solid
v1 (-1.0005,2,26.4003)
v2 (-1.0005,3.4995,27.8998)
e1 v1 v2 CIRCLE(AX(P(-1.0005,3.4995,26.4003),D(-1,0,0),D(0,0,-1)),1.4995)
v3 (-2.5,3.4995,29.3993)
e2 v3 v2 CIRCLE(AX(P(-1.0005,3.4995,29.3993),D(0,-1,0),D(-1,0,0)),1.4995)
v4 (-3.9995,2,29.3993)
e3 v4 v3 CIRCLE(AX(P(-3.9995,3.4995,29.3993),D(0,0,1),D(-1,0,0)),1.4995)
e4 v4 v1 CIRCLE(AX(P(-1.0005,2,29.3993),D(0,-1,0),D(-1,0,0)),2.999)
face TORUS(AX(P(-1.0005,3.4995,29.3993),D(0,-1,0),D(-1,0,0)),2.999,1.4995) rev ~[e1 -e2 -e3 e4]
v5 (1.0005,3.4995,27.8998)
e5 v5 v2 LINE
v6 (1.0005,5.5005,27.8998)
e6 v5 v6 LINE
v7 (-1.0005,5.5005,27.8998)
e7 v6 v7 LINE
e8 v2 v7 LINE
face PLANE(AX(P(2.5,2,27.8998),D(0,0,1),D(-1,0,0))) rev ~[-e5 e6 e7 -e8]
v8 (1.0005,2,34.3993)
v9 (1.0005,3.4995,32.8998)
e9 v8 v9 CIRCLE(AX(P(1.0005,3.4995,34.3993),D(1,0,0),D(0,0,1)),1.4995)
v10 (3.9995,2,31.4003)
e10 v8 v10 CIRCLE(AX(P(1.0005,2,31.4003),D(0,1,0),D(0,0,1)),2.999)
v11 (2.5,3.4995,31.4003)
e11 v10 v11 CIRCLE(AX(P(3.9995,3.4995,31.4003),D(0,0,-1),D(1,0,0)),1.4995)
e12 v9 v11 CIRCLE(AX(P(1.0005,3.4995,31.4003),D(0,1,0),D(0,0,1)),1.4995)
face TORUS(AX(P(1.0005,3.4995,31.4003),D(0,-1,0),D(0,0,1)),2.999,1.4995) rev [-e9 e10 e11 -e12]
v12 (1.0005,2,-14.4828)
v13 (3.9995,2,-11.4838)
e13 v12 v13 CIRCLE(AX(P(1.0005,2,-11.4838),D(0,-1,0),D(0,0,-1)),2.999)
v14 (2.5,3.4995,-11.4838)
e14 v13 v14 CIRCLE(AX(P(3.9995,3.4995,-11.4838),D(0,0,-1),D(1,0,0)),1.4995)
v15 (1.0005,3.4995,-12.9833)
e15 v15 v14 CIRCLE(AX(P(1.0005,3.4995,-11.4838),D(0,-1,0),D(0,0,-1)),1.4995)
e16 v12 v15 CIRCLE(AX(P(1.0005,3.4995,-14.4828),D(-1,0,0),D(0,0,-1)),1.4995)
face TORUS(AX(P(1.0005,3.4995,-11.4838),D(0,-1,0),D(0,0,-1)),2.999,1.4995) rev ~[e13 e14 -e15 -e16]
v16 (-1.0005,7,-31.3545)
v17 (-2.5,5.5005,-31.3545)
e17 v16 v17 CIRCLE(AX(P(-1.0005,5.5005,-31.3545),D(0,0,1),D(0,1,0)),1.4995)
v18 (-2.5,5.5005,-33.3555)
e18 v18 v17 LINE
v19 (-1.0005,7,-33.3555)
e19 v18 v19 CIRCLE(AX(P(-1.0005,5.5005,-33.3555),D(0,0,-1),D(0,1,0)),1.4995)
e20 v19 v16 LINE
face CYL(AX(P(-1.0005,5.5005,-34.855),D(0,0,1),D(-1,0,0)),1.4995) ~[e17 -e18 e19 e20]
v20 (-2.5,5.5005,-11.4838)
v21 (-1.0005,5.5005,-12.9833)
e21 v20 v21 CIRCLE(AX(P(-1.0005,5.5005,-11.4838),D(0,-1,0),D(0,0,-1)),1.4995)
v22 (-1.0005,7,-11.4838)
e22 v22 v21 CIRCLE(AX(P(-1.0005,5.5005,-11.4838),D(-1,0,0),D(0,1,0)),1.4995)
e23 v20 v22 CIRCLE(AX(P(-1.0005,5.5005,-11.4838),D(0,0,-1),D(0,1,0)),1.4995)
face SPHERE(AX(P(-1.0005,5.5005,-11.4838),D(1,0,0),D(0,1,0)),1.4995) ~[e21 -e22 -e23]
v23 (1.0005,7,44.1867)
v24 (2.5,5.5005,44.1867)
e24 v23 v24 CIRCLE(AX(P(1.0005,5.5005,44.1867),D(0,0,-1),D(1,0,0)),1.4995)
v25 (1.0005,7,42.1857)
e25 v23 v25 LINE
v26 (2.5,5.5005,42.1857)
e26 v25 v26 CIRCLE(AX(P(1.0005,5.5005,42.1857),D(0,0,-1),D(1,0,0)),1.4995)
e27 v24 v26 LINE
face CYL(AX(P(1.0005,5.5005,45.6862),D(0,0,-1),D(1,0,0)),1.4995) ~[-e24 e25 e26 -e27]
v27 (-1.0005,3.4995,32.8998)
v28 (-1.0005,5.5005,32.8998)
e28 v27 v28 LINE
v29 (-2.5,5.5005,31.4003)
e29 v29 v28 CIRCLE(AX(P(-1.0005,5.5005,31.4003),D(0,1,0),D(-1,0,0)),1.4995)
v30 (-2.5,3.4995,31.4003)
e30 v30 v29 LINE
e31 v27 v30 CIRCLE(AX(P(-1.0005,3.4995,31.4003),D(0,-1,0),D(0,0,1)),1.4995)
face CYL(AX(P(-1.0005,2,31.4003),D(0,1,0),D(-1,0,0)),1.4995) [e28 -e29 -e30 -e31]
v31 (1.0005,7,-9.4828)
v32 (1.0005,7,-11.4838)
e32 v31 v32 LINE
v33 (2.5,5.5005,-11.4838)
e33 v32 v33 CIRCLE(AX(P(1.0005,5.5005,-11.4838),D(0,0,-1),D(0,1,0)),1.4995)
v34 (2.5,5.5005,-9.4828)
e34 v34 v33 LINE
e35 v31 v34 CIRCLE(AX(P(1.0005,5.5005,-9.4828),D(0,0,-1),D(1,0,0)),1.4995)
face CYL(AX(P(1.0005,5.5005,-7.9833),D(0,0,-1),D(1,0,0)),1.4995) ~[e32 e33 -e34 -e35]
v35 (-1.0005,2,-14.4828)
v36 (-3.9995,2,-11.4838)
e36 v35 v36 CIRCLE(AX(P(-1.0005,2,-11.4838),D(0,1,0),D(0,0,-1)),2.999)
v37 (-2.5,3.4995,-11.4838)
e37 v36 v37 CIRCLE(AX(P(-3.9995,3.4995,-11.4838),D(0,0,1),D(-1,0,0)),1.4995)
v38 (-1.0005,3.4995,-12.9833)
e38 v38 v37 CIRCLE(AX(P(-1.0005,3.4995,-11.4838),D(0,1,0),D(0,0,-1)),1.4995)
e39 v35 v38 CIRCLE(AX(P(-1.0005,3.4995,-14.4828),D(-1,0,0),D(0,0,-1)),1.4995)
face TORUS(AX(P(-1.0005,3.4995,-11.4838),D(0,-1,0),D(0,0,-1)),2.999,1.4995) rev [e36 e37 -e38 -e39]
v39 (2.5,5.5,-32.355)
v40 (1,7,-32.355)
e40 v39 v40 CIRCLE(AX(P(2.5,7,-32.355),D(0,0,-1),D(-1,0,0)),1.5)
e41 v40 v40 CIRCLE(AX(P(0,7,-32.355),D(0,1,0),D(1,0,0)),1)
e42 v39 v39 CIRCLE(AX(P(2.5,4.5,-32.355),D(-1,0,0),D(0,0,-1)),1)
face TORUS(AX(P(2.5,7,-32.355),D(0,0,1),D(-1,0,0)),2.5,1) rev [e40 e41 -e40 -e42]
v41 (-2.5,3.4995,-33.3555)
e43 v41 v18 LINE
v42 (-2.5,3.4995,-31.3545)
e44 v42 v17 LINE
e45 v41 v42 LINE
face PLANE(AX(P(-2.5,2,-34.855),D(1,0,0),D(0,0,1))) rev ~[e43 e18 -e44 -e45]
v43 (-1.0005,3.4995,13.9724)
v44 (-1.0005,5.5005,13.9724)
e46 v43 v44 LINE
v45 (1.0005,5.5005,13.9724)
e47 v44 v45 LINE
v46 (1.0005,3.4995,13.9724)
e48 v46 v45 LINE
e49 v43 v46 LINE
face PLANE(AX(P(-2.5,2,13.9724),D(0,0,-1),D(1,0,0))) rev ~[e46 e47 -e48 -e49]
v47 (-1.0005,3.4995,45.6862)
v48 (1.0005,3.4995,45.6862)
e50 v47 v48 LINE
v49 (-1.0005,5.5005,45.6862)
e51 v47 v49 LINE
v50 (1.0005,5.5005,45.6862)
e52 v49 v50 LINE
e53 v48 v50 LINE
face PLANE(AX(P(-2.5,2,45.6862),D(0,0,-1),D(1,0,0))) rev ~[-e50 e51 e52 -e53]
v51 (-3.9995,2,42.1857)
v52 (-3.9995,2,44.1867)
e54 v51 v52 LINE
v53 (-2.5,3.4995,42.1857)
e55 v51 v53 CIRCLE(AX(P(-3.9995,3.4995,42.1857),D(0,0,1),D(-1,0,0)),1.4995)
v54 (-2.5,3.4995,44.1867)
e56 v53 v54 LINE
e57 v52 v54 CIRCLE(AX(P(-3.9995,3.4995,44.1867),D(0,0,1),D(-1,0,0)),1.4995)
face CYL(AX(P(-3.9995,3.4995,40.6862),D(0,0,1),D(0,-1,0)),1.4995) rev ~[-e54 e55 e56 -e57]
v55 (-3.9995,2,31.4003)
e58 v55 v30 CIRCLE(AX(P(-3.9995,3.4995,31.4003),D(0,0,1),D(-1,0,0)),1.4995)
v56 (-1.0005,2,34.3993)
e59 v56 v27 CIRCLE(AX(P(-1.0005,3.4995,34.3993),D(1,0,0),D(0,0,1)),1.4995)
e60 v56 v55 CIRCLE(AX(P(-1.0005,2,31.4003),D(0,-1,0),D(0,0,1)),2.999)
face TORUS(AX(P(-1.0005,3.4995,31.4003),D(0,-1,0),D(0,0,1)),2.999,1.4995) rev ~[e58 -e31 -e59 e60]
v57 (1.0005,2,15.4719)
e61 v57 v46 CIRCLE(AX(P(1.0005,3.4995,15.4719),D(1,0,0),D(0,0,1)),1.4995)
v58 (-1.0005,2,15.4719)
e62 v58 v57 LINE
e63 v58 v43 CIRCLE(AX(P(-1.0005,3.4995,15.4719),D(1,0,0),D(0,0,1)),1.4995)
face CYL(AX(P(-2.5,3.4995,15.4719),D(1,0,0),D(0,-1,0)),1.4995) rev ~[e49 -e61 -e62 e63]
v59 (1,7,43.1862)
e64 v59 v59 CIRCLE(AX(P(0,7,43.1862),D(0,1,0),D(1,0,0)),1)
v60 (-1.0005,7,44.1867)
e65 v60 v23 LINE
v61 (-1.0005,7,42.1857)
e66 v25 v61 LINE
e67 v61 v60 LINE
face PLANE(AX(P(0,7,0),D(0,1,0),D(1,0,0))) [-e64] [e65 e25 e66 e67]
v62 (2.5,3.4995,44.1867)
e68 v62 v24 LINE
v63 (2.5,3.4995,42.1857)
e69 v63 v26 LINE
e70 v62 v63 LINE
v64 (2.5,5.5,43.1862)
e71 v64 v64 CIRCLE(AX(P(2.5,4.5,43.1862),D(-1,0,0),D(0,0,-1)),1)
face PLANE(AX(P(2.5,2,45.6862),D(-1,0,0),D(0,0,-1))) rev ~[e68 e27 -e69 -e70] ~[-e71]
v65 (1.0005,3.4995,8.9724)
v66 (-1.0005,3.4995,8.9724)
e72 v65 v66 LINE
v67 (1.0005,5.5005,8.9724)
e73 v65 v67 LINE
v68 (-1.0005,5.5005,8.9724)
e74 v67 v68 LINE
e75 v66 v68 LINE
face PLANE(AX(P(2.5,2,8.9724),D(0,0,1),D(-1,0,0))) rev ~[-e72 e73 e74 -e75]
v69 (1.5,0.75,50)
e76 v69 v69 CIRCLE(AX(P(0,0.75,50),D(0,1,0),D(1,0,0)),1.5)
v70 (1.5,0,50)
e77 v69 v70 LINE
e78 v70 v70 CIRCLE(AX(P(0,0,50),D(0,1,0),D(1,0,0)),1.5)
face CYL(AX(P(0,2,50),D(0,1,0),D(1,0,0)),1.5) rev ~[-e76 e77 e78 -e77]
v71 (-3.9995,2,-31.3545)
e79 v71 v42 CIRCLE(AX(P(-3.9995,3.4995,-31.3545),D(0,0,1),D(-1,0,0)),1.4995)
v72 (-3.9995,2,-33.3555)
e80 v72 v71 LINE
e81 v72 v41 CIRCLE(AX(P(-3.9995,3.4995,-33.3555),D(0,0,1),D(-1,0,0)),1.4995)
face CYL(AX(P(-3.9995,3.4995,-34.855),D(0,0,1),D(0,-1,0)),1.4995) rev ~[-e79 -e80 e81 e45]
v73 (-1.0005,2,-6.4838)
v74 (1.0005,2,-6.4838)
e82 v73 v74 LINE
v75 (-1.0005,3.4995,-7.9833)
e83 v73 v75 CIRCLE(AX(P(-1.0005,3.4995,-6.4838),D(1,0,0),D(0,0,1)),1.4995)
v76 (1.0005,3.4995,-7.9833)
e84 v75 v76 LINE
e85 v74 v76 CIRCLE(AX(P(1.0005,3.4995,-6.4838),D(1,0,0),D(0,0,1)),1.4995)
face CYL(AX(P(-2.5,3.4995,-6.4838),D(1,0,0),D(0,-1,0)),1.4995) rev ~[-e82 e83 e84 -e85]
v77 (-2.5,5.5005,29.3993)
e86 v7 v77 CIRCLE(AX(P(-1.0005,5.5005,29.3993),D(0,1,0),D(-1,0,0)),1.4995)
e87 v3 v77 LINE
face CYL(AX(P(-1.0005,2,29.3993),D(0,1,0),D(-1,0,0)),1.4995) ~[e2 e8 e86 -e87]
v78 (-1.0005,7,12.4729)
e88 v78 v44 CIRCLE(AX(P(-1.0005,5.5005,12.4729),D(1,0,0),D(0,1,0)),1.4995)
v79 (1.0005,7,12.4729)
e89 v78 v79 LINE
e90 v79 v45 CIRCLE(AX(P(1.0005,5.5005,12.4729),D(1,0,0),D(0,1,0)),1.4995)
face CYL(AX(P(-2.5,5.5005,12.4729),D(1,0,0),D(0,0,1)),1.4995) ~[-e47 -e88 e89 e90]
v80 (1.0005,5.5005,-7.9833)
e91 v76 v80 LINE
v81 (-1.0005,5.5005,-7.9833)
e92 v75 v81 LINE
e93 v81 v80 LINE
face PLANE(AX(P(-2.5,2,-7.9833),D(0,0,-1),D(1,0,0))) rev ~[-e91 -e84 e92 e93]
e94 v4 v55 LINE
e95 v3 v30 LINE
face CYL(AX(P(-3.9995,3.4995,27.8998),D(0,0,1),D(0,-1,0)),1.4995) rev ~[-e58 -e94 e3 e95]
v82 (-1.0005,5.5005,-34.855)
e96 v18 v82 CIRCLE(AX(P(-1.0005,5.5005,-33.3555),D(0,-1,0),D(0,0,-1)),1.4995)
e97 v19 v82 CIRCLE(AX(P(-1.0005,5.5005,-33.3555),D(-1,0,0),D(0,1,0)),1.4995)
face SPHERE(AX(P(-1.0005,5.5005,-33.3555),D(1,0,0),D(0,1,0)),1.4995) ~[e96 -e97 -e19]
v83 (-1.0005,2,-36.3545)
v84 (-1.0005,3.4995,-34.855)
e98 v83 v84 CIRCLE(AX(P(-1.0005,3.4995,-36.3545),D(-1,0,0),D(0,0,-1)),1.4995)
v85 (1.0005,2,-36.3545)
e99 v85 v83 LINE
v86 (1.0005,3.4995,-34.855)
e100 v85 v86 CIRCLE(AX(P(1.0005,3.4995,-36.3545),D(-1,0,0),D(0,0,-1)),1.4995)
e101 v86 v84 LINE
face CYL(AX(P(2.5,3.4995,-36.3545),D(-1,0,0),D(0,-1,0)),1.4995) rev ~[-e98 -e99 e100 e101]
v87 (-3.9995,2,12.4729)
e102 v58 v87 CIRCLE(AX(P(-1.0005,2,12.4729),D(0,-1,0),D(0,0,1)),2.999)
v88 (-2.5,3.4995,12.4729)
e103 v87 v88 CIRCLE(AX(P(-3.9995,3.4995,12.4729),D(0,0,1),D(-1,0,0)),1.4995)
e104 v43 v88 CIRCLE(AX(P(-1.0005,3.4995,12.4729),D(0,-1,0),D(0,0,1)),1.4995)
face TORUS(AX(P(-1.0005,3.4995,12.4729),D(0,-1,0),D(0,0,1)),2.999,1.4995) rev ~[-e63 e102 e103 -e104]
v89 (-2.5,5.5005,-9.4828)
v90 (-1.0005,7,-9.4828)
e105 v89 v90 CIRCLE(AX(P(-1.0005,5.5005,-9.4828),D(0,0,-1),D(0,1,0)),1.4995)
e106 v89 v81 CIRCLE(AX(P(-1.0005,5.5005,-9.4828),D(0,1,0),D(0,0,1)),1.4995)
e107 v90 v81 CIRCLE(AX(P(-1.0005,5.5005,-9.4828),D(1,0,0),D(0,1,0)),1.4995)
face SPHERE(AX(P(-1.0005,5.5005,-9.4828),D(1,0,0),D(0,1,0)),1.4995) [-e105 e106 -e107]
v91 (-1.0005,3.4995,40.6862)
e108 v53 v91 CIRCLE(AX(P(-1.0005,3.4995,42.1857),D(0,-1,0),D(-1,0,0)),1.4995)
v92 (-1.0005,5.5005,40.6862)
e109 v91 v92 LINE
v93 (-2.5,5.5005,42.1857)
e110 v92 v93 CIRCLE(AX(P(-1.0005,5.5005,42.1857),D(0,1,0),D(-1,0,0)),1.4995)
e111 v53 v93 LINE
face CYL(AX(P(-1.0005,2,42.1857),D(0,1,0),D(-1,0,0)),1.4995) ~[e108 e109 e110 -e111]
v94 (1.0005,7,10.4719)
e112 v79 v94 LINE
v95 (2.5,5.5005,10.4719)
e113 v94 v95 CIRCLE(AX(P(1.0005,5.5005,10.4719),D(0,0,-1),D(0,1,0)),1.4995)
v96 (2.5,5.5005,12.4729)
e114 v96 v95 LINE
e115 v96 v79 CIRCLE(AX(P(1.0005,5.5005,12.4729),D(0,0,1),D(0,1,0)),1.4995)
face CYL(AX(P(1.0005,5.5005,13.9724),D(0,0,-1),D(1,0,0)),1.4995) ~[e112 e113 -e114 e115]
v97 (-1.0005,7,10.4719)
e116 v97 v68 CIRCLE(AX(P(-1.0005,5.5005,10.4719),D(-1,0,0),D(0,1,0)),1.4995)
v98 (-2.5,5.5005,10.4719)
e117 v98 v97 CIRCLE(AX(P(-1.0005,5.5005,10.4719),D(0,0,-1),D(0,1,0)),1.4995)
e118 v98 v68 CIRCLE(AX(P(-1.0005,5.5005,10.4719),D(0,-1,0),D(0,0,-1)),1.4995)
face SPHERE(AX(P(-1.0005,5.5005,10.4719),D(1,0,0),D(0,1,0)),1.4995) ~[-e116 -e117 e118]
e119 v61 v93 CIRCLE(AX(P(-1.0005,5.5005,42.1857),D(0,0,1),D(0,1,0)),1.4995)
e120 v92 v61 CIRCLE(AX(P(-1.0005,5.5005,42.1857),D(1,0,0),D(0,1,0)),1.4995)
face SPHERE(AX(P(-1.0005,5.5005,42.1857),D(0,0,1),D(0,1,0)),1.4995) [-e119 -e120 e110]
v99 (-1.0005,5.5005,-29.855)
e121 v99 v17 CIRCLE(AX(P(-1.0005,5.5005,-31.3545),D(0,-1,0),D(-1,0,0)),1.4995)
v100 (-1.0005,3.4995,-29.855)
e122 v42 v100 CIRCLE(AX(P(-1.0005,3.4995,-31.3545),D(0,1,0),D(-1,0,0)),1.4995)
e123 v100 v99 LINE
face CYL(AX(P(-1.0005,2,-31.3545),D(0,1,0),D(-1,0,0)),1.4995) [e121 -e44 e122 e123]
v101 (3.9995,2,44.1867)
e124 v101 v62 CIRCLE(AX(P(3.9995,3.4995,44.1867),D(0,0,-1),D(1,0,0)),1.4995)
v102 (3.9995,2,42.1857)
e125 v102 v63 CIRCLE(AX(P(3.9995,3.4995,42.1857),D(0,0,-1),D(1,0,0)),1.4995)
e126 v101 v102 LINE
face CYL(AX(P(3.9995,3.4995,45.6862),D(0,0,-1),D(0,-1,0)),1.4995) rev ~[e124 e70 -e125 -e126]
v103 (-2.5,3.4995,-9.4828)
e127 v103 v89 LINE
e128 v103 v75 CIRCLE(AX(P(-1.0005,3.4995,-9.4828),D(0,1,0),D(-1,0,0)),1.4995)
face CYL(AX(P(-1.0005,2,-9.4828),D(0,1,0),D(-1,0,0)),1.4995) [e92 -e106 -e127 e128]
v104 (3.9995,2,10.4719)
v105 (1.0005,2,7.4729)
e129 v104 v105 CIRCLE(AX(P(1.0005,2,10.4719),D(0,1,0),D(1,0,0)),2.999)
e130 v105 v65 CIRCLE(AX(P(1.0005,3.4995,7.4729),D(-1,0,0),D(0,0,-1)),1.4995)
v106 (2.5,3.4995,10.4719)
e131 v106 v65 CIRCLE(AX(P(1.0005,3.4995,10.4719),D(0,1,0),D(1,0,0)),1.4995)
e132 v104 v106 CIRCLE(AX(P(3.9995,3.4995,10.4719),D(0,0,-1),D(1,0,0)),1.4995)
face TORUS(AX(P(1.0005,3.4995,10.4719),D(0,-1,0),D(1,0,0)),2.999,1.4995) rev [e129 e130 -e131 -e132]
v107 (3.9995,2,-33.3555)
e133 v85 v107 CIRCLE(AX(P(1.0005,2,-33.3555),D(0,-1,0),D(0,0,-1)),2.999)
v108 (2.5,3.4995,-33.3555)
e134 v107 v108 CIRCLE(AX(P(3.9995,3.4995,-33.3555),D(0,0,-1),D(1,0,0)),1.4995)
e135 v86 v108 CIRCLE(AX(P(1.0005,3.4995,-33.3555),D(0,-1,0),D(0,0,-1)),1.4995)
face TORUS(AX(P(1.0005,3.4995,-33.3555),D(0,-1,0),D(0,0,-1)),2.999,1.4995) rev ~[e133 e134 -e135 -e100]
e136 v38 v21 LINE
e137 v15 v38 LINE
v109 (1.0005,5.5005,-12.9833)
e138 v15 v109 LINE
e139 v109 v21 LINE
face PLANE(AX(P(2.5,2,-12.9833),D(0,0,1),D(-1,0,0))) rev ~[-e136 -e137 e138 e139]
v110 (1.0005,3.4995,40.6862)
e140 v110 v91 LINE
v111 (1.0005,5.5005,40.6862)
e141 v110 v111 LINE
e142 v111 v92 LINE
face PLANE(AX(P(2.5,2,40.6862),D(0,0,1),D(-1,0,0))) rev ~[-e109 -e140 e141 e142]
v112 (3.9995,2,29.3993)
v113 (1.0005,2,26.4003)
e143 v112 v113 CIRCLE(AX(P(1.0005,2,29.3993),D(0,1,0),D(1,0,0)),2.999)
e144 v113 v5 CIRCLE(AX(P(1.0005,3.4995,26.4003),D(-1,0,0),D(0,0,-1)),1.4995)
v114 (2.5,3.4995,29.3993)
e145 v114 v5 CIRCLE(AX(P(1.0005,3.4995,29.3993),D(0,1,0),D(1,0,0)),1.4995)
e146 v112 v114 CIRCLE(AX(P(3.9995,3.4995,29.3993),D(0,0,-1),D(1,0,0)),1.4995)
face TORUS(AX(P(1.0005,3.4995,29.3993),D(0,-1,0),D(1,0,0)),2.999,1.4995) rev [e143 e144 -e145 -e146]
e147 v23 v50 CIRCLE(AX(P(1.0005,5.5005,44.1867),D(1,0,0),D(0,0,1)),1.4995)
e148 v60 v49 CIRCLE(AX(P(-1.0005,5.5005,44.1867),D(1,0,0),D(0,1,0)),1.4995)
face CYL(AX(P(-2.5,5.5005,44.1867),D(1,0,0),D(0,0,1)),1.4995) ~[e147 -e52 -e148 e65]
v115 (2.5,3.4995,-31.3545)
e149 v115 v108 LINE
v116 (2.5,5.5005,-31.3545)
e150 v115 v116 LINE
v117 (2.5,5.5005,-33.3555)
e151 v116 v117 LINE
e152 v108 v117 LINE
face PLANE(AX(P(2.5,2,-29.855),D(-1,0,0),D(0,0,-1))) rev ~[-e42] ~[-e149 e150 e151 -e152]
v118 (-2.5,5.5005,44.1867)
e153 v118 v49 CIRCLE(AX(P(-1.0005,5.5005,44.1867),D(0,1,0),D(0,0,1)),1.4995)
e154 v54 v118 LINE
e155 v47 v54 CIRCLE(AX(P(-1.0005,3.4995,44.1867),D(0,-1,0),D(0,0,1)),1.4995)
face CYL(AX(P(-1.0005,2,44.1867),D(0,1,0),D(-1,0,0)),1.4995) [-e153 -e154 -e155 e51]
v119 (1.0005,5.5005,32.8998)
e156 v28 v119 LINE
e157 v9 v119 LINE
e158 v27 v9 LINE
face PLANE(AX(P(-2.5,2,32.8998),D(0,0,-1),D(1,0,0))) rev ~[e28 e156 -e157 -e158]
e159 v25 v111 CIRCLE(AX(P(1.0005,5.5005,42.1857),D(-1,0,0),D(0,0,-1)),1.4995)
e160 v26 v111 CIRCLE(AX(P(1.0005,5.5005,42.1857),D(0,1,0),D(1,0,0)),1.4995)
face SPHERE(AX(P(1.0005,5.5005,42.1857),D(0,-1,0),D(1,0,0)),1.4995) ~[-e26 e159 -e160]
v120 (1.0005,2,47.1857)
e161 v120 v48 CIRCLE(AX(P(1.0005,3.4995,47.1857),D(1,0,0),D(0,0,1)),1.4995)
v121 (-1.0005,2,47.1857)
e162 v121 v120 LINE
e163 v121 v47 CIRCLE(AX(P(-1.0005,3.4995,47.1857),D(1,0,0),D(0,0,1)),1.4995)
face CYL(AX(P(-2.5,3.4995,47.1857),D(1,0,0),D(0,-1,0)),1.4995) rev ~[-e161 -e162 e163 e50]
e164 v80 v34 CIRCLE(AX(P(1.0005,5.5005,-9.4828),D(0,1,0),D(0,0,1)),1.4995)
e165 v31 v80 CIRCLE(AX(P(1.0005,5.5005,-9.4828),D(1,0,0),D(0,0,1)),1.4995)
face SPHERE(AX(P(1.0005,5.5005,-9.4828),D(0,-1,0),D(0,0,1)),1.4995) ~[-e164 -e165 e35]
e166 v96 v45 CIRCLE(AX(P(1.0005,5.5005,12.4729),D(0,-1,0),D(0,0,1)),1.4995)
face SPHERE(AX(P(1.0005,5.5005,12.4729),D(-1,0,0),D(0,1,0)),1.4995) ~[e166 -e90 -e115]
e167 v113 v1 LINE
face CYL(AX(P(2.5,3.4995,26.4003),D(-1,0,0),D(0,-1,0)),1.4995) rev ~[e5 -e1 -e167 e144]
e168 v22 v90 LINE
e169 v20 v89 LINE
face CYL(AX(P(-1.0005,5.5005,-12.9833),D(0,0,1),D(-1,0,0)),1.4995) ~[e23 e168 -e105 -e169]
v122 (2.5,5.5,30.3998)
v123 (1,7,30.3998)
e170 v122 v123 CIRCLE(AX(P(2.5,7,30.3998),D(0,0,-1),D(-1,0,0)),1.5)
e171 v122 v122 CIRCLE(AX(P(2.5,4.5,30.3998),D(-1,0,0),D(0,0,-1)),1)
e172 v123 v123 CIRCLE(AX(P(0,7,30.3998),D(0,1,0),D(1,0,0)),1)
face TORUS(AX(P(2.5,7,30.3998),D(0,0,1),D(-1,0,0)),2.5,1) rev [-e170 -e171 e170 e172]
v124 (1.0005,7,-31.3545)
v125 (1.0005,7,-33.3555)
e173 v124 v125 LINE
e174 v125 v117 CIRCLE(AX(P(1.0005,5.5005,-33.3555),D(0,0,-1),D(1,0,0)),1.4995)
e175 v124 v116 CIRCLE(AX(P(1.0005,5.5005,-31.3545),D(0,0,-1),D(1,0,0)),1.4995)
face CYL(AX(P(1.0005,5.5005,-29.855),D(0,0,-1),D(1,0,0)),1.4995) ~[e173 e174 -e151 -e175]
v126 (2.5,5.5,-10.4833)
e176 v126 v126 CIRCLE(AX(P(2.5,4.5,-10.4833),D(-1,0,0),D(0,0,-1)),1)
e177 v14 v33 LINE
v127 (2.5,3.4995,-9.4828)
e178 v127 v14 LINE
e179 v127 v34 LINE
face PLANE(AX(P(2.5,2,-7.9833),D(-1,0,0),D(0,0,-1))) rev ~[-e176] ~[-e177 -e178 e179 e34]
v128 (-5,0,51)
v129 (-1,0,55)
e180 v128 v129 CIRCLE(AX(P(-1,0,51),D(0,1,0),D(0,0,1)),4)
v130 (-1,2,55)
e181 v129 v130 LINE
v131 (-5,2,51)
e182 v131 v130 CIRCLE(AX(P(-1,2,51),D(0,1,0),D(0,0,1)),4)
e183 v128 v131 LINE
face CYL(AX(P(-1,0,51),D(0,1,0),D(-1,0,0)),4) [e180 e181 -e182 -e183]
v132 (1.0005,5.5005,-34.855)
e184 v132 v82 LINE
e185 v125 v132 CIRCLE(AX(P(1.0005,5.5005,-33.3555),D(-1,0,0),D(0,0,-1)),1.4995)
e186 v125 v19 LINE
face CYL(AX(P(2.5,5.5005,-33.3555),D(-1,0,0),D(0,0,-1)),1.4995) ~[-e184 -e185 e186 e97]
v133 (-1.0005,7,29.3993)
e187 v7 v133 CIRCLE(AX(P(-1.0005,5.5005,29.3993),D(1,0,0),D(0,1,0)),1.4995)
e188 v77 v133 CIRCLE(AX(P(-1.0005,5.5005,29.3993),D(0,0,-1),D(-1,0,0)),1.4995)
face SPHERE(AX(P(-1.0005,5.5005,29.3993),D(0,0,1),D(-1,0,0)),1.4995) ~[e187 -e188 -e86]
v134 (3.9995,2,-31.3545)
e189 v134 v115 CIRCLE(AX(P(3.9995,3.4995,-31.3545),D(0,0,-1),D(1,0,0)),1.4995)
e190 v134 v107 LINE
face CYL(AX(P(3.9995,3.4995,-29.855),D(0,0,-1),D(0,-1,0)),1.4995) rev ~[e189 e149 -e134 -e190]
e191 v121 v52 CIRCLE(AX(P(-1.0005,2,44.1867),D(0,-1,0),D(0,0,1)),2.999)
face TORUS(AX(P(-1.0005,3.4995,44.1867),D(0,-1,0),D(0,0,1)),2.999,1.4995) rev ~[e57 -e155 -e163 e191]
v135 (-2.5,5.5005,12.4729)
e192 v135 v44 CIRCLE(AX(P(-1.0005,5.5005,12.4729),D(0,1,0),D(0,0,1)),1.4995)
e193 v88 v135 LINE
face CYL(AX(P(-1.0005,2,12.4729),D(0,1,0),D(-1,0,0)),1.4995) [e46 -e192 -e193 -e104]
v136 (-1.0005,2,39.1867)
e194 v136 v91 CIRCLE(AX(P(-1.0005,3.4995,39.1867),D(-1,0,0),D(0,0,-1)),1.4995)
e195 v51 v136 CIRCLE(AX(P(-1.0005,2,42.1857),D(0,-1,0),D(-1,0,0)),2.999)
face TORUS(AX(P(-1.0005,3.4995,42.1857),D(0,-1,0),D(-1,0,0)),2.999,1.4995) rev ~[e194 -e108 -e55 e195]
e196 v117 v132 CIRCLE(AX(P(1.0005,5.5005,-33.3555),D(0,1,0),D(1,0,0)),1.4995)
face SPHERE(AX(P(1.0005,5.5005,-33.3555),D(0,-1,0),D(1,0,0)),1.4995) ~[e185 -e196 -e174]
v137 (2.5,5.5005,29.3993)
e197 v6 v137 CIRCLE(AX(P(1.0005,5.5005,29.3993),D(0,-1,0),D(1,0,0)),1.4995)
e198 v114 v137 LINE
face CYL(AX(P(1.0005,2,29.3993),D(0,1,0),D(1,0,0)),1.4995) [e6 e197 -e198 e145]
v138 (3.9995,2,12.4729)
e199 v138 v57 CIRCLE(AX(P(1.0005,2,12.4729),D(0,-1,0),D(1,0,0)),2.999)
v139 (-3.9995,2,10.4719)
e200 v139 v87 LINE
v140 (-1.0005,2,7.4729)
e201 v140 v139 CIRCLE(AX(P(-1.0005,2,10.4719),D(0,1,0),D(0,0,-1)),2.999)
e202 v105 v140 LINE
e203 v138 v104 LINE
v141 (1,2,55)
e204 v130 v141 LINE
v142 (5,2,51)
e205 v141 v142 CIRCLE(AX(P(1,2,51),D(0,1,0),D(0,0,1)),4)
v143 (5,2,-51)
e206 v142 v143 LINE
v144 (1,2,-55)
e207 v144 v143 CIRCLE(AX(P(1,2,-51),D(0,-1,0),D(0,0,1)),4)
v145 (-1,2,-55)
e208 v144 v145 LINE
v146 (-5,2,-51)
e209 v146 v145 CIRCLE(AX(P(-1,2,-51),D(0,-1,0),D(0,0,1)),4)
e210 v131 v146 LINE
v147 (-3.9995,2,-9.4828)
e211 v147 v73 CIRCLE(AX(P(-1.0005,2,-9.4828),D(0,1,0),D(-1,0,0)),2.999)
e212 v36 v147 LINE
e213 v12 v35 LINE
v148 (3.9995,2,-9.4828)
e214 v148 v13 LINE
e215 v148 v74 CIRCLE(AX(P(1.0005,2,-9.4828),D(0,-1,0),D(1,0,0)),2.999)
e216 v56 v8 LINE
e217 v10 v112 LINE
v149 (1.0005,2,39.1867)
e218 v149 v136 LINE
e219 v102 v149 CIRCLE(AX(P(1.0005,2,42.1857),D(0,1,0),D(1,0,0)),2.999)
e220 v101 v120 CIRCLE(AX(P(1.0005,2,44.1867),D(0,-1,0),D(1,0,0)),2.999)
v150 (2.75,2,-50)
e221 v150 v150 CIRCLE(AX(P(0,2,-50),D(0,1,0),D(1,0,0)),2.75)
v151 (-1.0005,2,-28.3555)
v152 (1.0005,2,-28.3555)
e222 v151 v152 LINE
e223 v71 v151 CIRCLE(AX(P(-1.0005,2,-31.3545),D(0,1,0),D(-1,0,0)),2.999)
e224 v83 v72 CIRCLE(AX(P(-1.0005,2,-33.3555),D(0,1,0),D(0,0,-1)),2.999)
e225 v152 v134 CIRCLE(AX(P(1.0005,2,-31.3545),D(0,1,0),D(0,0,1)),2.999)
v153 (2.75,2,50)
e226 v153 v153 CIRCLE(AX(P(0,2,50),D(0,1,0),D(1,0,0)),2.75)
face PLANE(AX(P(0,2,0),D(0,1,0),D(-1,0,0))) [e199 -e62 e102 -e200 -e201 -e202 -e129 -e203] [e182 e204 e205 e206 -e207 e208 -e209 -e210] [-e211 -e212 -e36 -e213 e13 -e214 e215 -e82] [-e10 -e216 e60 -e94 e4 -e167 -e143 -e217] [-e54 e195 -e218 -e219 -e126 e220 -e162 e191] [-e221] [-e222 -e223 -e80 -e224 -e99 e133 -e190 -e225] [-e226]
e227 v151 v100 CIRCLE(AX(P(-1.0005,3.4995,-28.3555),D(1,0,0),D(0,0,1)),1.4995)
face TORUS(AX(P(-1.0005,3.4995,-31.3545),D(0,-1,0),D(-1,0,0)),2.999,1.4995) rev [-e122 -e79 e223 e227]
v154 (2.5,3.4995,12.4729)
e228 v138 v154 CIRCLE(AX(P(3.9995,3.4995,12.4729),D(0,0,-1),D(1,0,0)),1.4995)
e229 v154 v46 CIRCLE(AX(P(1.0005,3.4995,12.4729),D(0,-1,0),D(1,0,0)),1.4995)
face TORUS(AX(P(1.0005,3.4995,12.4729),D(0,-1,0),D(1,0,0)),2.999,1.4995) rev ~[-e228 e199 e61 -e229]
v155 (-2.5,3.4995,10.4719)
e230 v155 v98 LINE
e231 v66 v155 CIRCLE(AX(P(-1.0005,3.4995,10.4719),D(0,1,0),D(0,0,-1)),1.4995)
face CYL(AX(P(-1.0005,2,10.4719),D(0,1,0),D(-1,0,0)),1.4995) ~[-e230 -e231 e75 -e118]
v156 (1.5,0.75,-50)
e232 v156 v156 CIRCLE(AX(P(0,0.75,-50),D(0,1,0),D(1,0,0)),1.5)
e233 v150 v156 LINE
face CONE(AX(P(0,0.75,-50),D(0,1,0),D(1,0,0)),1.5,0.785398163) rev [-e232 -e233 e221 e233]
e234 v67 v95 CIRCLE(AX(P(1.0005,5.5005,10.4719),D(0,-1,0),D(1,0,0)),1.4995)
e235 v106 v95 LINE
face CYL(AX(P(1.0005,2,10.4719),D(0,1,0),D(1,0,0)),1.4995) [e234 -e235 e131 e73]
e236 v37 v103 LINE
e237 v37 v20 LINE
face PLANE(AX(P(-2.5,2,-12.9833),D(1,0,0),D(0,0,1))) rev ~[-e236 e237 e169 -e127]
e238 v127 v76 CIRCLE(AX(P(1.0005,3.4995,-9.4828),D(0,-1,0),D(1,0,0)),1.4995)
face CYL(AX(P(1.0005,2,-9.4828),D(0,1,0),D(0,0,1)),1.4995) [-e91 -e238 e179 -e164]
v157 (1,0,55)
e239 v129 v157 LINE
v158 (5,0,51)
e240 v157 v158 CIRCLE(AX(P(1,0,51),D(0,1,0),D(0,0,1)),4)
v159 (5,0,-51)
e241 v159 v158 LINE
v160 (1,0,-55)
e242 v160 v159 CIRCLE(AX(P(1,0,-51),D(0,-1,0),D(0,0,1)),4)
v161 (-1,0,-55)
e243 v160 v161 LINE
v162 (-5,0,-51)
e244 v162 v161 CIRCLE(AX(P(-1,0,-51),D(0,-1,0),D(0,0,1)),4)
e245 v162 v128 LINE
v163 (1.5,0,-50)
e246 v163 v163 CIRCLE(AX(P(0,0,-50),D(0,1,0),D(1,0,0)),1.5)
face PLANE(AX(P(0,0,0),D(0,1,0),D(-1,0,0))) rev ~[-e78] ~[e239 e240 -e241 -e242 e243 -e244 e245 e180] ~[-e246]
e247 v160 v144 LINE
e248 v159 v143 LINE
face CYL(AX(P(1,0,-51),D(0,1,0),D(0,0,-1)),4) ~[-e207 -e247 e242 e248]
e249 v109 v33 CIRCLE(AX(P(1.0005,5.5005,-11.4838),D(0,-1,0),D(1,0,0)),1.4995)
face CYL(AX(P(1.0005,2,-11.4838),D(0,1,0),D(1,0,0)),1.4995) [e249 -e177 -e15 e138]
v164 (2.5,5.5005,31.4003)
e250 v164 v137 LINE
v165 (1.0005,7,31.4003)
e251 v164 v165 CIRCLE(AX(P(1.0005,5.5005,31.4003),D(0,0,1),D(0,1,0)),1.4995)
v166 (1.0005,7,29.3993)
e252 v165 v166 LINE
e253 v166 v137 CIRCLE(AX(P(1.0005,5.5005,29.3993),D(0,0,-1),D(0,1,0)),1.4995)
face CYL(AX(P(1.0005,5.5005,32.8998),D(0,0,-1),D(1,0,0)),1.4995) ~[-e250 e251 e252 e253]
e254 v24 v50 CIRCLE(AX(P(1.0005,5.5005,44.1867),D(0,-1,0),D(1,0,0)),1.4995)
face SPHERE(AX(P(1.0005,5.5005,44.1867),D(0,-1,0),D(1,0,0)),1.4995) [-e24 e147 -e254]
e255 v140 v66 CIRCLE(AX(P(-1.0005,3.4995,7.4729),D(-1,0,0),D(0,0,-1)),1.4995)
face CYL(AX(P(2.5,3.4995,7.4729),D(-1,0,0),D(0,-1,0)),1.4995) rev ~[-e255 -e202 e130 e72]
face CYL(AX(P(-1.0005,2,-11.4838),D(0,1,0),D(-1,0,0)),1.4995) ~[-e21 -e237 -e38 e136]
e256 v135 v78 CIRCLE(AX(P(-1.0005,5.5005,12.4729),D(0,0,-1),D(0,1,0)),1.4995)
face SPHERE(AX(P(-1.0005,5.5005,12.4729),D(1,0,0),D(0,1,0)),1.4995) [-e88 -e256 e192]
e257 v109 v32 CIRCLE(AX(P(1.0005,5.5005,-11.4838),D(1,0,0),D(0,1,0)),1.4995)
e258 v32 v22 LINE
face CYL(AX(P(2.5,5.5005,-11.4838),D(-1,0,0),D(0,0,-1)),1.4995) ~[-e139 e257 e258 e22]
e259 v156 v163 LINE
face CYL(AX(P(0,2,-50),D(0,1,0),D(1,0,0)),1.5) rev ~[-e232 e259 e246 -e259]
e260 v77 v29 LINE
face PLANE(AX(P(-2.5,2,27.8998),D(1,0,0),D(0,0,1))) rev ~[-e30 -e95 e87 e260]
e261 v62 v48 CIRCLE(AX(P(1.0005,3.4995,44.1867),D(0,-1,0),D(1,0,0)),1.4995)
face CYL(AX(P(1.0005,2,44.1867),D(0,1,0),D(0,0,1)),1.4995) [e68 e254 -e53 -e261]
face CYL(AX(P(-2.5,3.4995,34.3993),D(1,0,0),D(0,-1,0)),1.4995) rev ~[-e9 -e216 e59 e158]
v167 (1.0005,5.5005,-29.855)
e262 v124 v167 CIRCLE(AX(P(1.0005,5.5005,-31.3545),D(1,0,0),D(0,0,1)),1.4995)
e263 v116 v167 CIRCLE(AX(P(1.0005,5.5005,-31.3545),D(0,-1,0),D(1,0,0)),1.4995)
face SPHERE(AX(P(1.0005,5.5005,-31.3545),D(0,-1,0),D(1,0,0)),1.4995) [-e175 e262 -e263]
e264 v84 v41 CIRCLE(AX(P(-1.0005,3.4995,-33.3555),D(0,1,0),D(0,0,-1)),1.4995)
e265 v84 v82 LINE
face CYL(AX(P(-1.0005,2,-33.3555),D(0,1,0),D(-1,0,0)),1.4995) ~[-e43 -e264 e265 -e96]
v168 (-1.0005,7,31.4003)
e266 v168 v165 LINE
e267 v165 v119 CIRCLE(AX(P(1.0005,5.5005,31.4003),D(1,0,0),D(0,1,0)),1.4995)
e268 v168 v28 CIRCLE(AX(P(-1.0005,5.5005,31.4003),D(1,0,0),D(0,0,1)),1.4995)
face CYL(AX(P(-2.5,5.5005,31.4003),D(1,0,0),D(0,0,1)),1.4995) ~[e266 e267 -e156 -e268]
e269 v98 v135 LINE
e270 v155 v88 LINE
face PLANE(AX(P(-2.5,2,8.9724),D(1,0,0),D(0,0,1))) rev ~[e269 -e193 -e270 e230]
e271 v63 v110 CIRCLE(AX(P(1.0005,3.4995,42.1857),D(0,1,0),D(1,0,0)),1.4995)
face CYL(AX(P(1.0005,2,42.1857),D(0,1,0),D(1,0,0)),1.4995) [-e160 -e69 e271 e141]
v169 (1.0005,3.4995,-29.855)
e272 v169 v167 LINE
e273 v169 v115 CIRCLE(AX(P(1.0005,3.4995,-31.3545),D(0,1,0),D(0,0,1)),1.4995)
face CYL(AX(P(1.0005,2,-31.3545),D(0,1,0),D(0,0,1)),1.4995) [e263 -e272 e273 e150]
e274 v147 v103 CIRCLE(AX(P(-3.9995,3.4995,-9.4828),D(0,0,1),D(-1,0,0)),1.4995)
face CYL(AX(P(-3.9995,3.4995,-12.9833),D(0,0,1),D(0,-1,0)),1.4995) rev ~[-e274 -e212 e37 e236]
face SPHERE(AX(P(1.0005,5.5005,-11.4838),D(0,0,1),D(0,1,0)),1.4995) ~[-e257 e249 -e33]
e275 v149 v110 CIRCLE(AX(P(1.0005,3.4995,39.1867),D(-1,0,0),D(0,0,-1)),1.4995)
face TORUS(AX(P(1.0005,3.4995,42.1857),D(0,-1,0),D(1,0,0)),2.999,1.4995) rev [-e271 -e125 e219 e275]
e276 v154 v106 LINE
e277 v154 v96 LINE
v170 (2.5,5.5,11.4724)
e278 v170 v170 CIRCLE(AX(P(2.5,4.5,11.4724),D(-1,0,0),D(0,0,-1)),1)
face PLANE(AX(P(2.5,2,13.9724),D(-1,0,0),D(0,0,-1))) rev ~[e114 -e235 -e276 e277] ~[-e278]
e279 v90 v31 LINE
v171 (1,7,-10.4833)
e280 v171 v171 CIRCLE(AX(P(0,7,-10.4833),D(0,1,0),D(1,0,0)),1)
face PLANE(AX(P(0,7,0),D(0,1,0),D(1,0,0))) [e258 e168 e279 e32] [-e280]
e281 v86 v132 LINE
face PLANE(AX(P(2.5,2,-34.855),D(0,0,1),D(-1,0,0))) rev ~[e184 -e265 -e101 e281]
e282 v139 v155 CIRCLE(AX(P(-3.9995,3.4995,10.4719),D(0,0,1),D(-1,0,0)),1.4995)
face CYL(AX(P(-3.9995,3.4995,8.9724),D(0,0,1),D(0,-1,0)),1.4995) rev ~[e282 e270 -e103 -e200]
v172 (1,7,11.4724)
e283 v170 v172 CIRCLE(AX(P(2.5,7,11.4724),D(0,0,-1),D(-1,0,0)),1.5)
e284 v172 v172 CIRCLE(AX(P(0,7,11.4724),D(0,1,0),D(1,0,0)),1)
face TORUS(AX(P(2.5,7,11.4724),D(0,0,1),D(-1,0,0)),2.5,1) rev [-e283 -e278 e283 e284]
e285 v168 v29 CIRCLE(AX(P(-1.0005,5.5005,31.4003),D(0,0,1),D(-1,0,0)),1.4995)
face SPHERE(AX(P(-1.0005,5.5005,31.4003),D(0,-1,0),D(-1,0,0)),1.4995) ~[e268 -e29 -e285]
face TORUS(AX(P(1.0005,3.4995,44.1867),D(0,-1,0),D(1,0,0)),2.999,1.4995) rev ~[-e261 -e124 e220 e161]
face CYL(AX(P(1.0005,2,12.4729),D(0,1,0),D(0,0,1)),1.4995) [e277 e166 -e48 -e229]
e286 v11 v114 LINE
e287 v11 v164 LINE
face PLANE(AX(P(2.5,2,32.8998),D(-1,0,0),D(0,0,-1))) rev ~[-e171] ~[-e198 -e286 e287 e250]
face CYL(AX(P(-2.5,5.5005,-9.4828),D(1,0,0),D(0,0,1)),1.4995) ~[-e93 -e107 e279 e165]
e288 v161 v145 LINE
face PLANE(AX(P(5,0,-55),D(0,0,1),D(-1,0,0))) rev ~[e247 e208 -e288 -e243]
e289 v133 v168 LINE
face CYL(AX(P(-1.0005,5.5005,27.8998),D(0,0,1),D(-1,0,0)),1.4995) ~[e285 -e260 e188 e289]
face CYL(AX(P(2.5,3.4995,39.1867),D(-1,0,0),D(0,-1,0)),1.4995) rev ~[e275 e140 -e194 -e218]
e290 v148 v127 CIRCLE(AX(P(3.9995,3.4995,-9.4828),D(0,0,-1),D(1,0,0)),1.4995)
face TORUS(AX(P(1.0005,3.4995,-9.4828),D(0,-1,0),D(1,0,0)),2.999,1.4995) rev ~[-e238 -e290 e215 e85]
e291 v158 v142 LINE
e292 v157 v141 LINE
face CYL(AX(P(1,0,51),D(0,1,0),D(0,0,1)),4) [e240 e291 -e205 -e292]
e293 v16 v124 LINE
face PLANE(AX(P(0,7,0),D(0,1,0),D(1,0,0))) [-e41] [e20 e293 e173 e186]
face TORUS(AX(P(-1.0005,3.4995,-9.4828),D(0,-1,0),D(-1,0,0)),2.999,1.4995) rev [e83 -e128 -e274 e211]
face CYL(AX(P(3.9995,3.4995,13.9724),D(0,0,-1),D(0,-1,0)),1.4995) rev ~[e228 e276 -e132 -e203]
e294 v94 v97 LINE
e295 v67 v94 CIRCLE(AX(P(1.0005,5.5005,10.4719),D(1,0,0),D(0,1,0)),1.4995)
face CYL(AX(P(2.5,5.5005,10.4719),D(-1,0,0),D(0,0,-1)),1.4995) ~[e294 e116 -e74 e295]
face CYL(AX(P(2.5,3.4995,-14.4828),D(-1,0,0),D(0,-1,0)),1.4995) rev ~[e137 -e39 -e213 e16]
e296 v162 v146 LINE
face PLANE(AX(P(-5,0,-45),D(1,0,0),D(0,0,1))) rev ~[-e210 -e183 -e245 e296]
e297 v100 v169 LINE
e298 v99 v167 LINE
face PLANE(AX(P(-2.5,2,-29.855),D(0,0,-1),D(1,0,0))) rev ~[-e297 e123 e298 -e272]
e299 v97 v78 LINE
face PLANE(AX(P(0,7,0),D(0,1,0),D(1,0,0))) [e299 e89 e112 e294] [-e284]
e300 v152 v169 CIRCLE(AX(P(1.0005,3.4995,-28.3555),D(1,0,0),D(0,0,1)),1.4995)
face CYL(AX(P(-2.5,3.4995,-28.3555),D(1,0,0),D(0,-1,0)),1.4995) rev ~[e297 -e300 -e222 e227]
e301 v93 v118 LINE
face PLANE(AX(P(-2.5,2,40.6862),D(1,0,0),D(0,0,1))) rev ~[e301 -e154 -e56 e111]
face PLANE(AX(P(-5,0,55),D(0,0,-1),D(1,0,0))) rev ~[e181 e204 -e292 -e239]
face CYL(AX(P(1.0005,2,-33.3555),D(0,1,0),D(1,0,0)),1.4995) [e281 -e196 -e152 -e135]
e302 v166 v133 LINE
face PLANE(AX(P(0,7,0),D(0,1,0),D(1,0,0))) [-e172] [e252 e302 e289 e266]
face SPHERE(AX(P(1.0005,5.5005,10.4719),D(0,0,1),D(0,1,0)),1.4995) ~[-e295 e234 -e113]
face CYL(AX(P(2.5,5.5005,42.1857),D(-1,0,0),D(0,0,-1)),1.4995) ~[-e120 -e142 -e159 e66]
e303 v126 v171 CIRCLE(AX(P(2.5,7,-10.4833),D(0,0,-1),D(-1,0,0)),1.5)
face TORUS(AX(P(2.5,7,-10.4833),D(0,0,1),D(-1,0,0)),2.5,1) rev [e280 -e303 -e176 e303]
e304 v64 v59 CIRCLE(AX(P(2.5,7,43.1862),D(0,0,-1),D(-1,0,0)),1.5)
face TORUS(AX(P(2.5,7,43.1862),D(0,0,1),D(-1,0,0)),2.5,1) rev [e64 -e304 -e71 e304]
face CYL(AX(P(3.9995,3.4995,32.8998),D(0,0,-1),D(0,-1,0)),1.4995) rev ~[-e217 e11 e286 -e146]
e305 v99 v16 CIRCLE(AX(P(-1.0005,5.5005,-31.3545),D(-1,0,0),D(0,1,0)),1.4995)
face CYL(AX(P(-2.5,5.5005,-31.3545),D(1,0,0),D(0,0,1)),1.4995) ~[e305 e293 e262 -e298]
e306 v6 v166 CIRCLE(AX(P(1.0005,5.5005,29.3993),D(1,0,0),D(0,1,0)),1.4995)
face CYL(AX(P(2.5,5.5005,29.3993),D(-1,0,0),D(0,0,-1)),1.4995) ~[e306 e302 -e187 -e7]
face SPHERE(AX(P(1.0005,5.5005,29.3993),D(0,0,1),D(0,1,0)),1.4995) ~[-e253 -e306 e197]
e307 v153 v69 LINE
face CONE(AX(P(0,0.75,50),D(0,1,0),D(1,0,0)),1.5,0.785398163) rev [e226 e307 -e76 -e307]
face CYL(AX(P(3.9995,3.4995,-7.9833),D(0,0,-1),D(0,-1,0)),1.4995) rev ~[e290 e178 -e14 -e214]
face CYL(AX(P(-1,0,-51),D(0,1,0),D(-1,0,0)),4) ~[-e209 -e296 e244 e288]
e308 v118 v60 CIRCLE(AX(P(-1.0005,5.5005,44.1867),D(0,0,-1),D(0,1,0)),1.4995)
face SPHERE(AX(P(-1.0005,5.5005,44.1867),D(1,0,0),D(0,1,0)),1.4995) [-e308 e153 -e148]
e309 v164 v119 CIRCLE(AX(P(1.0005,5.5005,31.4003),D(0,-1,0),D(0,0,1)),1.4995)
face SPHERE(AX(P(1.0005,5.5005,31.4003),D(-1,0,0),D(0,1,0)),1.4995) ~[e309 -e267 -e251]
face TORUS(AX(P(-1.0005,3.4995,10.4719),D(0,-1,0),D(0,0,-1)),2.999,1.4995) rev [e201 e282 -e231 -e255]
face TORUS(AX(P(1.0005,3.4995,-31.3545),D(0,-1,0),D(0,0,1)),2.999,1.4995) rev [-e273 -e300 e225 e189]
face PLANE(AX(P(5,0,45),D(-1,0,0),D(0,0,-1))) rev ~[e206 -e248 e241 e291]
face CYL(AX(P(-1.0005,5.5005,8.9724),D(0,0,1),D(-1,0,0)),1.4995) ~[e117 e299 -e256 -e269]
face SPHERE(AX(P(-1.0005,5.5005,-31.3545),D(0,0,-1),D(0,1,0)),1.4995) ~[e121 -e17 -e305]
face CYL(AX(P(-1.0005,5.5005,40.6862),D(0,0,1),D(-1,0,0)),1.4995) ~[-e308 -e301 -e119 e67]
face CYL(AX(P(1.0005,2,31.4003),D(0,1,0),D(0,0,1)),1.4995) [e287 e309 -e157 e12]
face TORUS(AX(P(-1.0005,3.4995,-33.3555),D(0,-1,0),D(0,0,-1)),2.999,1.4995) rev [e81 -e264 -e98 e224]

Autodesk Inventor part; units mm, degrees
ref_plane "YZ Plane" through (0, 0, 0) normal (1, 0, 0) x (0, 1, 0)
ref_plane "XZ Plane" through (0, 0, 0) normal (0, 1, 0) x (-1, 0, 0)
ref_plane "XY Plane" through (0, 0, 0) normal (0, 0, 1) x (1, 0, 0)
sketch "Esquisse1" plane through (0, 0, 0) normal (0, 1, 0) x (-1, 0, 0)
  line L0 (5, 45) -> (-5, 45)
  line L1 (-5, 45) -> (-5, -45)
  line L2 (-5, -45) -> (5, -45)
  line L3 (5, -45) -> (5, 45)
  line L4 (5, 45) -> (-5, -45) construction
  line L5 (-5, 45) -> (5, -45) construction
  line L6 (-5, 45) -> (5, 45)
  line L7 (5, 45) -> (5, 55)
  line L8 (5, 55) -> (-5, 55)
  line L9 (-5, 55) -> (-5, 45)
  line L10 (5, -45) -> (-5, -45)
  line L11 (-5, -45) -> (-5, -55)
  line L12 (-5, -55) -> (5, -55)
  line L13 (5, -55) -> (5, -45)
  point P0 (0, 0)
  dimension "d0" = 10
  dimension "d1" = 90
  dimension "d2" = 10
  dimension "d3" = 10
extrude "Extrusion1" add sketch "Esquisse1" along normal blind 2
sketch "Esquisse2" plane through (0, 2, 0) normal (0, 1, 0) x (1, 0, 0)
  line L0 (-5, 55) -> (-5, -55) projected
  line L1 (5, -55) -> (5, 55) projected
  line L2 (-5, -55) -> (5, -55)
  line L3 (5, -55) -> (5, -45)
  line L4 (5, -45) -> (-5, -45)
  line L5 (-5, -45) -> (-5, -55)
  line L6 (5, 55) -> (-5, 55) projected
  line L7 (-5, 55) -> (5, 55)
  line L8 (5, 55) -> (5, 45)
  line L9 (5, 45) -> (-5, 45)
  line L10 (-5, 45) -> (-5, 55)
  circle A0 centre (0, -50) radius 1.5
  circle A1 centre (0, 50) radius 1.5
  point P0 (0, 0)
  dimension "d6" = 10
  dimension "d7" = 10
  dimension "d8" = 3
  dimension "d9" = 3
extrude "Extrusion2" cut sketch "Esquisse2" against normal blind 2 contours A0 | A1
chamfer "Chanfrein1" distance 1.25 angle 45 2 edges at (-1.5, 2, 50) (-1.5, 2, -50)
sketch "Esquisse3" plane through (0, 2, 0) normal (0, 1, 0) x (1, 0, 0)
  line L0 (-2.5, -45.6862) -> (2.5, -45.6862)
  line L1 (2.5, -45.6862) -> (2.5, -40.6862)
  line L2 (2.5, -40.6862) -> (-2.5, -40.6862)
  line L3 (-2.5, -40.6862) -> (-2.5, -45.6862)
  line L4 (-2.5, -45.6862) -> (2.5, -40.6862) construction
  line L5 (2.5, -45.6862) -> (-2.5, -40.6862) construction
  line L6 (-2.5, 29.855) -> (2.5, 29.855)
  line L7 (2.5, 29.855) -> (2.5, 34.855)
  line L8 (2.5, 34.855) -> (-2.5, 34.855)
  line L9 (-2.5, 34.855) -> (-2.5, 29.855)
  line L10 (-2.5, 29.855) -> (2.5, 34.855) construction
  line L11 (2.5, 29.855) -> (-2.5, 34.855) construction
  line L12 (-2.5, -32.8998) -> (2.5, -32.8998)
  line L13 (2.5, -32.8998) -> (2.5, -27.8998)
  line L14 (2.5, -27.8998) -> (-2.5, -27.8998)
  line L15 (-2.5, -27.8998) -> (-2.5, -32.8998)
  line L16 (-2.5, -32.8998) -> (2.5, -27.8998) construction
  line L17 (2.5, -32.8998) -> (-2.5, -27.8998) construction
  line L18 (-2.5, -13.9724) -> (2.5, -13.9724)
  line L19 (2.5, -13.9724) -> (2.5, -8.9724)
  line L20 (2.5, -8.9724) -> (-2.5, -8.9724)
  line L21 (-2.5, -8.9724) -> (-2.5, -13.9724)
  line L22 (-2.5, -13.9724) -> (2.5, -8.9724) construction
  line L23 (2.5, -13.9724) -> (-2.5, -8.9724) construction
  line L24 (-2.5, 7.9833) -> (2.5, 7.9833)
  line L25 (2.5, 7.9833) -> (2.5, 12.9833)
  line L26 (2.5, 12.9833) -> (-2.5, 12.9833)
  line L27 (-2.5, 12.9833) -> (-2.5, 7.9833)
  line L28 (-2.5, 7.9833) -> (2.5, 12.9833) construction
  line L29 (2.5, 7.9833) -> (-2.5, 12.9833) construction
  point P0 (0, 0)
  point P1 (0, -43.1862)
  point P2 (0, 32.355)
  point P3 (0, -30.3998)
  point P4 (0, -11.4724)
  point P5 (0, 10.4833)
  dimension "d15" = 5
  dimension "d16" = 5
  dimension "d17" = 5
  dimension "d18" = 5
  dimension "d19" = 5
  dimension "d20" = 5
  dimension "d21" = 5
  dimension "d22" = 5
  dimension "d23" = 5
extrude "Extrusion3" add sketch "Esquisse3" along normal blind 5
sketch "Esquisse4" plane through (0, 7, 0) normal (0, 1, 0) x (1, 0, 0)
  line L0 (-2.5, -40.6862) -> (-2.5, -45.6862) projected
  line L1 (2.5, -45.6862) -> (2.5, -40.6862) projected
  line L2 (-2.5, -45.6862) -> (2.5, -45.6862)
  line L3 (2.5, -45.6862) -> (2.5, -40.6862)
  line L4 (2.5, -40.6862) -> (-2.5, -40.6862)
  line L5 (-2.5, -40.6862) -> (-2.5, -45.6862)
  line L6 (-2.5, -32.8998) -> (-2.5, -27.8998) projected
  line L7 (2.5, -32.8998) -> (2.5, -27.8998) projected
  line L8 (-2.5, -32.8998) -> (2.5, -32.8998)
  line L9 (2.5, -32.8998) -> (2.5, -27.8998)
  line L10 (2.5, -27.8998) -> (-2.5, -27.8998)
  line L11 (-2.5, -27.8998) -> (-2.5, -32.8998)
  line L12 (-2.5, -8.9724) -> (-2.5, -13.9724) projected
  line L13 (2.5, -8.9724) -> (2.5, -13.9724) projected
  line L14 (-2.5, -13.9724) -> (2.5, -13.9724)
  line L15 (2.5, -13.9724) -> (2.5, -8.9724)
  line L16 (2.5, -8.9724) -> (-2.5, -8.9724)
  line L17 (-2.5, -8.9724) -> (-2.5, -13.9724)
  line L18 (-2.5, 7.9833) -> (-2.5, 12.9833) projected
  line L19 (2.5, 12.9833) -> (2.5, 7.9833) projected
  line L20 (-2.5, 7.9833) -> (2.5, 7.9833)
  line L21 (2.5, 7.9833) -> (2.5, 12.9833)
  line L22 (2.5, 12.9833) -> (-2.5, 12.9833)
  line L23 (-2.5, 12.9833) -> (-2.5, 7.9833)
  line L24 (-2.5, 29.855) -> (-2.5, 34.855) projected
  line L25 (2.5, 29.855) -> (2.5, 34.855) projected
  line L26 (-2.5, 29.855) -> (2.5, 29.855)
  line L27 (2.5, 29.855) -> (2.5, 34.855)
  line L28 (2.5, 34.855) -> (-2.5, 34.855)
  line L29 (-2.5, 34.855) -> (-2.5, 29.855)
  circle A0 centre (0, -43.1862) radius 1
  circle A1 centre (0, -30.3998) radius 1
  circle A2 centre (0, -11.4724) radius 1
  circle A3 centre (0, 10.4833) radius 1
  circle A4 centre (0, 32.355) radius 1
  point P0 (0, 0)
  dimension "d26" = 2
  dimension "d27" = 2
revolve "Révolution1" cut sketch "Esquisse4" angle 360 about axis through (2.5, 7, 45.6862) along (0, 0, -1) contours A0 | A1 | A2 | A3 | A4
fillet "Congé1" radius 1.5 60 edges at (2.5, 4.5, 45.6862) (2.5, 4.5, 40.6862) (2.5, 7, 43.1862) (0, 7, 45.6862) (-2.5, 7, 43.1862) (0, 7, 40.6862) (-2.5, 4.5, 45.6862) (-2.5, 4.5, 40.6862) (2.5, 2, 43.1862) (0, 2, 45.6862) (-2.5, 2, 43.1862) (0, 2, 40.6862) (-2.5, 4.5, 32.8998) (-2.5, 7, 30.3998) (-2.5, 4.5, 27.8998) (0, 7, 32.8998) (2.5, 7, 30.3998) (2.5, 4.5, 32.8998) (0, 2, 32.8998) (2.5, 2, 30.3998) (-2.5, 2, 30.3998) (0, 2, 27.8998) (0, 7, 13.9724) (2.5, 7, 11.4724) (0, 7, 8.9724) (-2.5, 7, 11.4724) (-2.5, 2, 11.4724) (-2.5, 4.5, 8.9724) (-2.5, 4.5, 13.9724) (0, 2, 8.9724) (2.5, 4.5, 8.9724) (2.5, 2, 11.4724) (0, 2, 13.9724) (2.5, 4.5, 13.9724) (0, 7, 27.8998) (2.5, 4.5, 27.8998) (0, 2, -7.9833) (2.5, 4.5, -7.9833) (0, 7, -7.9833) (2.5, 7, -10.4833) (0, 7, -12.9833) (-2.5, 7, -10.4833) (-2.5, 4.5, -7.9833) (2.5, 2, -10.4833) (2.5, 4.5, -12.9833) (-2.5, 2, -10.4833) (-2.5, 4.5, -12.9833) (0, 2, -12.9833) (0, 2, -29.855) (2.5, 2, -32.355) (2.5, 4.5, -29.855) (2.5, 4.5, -34.855) (2.5, 7, -32.355) (0, 7, -34.855) (-2.5, 7, -32.355) (0, 7, -29.855) (-2.5, 4.5, -29.855) (-2.5, 4.5, -34.855) (0, 2, -34.855) (-2.5, 2, -32.355)
fillet "Congé2" radius 4 4 edges at (5, 1, 55) (-5, 1, 55) (5, 1, -55) (-5, 1, -55)
properties part number "Piece 1"
